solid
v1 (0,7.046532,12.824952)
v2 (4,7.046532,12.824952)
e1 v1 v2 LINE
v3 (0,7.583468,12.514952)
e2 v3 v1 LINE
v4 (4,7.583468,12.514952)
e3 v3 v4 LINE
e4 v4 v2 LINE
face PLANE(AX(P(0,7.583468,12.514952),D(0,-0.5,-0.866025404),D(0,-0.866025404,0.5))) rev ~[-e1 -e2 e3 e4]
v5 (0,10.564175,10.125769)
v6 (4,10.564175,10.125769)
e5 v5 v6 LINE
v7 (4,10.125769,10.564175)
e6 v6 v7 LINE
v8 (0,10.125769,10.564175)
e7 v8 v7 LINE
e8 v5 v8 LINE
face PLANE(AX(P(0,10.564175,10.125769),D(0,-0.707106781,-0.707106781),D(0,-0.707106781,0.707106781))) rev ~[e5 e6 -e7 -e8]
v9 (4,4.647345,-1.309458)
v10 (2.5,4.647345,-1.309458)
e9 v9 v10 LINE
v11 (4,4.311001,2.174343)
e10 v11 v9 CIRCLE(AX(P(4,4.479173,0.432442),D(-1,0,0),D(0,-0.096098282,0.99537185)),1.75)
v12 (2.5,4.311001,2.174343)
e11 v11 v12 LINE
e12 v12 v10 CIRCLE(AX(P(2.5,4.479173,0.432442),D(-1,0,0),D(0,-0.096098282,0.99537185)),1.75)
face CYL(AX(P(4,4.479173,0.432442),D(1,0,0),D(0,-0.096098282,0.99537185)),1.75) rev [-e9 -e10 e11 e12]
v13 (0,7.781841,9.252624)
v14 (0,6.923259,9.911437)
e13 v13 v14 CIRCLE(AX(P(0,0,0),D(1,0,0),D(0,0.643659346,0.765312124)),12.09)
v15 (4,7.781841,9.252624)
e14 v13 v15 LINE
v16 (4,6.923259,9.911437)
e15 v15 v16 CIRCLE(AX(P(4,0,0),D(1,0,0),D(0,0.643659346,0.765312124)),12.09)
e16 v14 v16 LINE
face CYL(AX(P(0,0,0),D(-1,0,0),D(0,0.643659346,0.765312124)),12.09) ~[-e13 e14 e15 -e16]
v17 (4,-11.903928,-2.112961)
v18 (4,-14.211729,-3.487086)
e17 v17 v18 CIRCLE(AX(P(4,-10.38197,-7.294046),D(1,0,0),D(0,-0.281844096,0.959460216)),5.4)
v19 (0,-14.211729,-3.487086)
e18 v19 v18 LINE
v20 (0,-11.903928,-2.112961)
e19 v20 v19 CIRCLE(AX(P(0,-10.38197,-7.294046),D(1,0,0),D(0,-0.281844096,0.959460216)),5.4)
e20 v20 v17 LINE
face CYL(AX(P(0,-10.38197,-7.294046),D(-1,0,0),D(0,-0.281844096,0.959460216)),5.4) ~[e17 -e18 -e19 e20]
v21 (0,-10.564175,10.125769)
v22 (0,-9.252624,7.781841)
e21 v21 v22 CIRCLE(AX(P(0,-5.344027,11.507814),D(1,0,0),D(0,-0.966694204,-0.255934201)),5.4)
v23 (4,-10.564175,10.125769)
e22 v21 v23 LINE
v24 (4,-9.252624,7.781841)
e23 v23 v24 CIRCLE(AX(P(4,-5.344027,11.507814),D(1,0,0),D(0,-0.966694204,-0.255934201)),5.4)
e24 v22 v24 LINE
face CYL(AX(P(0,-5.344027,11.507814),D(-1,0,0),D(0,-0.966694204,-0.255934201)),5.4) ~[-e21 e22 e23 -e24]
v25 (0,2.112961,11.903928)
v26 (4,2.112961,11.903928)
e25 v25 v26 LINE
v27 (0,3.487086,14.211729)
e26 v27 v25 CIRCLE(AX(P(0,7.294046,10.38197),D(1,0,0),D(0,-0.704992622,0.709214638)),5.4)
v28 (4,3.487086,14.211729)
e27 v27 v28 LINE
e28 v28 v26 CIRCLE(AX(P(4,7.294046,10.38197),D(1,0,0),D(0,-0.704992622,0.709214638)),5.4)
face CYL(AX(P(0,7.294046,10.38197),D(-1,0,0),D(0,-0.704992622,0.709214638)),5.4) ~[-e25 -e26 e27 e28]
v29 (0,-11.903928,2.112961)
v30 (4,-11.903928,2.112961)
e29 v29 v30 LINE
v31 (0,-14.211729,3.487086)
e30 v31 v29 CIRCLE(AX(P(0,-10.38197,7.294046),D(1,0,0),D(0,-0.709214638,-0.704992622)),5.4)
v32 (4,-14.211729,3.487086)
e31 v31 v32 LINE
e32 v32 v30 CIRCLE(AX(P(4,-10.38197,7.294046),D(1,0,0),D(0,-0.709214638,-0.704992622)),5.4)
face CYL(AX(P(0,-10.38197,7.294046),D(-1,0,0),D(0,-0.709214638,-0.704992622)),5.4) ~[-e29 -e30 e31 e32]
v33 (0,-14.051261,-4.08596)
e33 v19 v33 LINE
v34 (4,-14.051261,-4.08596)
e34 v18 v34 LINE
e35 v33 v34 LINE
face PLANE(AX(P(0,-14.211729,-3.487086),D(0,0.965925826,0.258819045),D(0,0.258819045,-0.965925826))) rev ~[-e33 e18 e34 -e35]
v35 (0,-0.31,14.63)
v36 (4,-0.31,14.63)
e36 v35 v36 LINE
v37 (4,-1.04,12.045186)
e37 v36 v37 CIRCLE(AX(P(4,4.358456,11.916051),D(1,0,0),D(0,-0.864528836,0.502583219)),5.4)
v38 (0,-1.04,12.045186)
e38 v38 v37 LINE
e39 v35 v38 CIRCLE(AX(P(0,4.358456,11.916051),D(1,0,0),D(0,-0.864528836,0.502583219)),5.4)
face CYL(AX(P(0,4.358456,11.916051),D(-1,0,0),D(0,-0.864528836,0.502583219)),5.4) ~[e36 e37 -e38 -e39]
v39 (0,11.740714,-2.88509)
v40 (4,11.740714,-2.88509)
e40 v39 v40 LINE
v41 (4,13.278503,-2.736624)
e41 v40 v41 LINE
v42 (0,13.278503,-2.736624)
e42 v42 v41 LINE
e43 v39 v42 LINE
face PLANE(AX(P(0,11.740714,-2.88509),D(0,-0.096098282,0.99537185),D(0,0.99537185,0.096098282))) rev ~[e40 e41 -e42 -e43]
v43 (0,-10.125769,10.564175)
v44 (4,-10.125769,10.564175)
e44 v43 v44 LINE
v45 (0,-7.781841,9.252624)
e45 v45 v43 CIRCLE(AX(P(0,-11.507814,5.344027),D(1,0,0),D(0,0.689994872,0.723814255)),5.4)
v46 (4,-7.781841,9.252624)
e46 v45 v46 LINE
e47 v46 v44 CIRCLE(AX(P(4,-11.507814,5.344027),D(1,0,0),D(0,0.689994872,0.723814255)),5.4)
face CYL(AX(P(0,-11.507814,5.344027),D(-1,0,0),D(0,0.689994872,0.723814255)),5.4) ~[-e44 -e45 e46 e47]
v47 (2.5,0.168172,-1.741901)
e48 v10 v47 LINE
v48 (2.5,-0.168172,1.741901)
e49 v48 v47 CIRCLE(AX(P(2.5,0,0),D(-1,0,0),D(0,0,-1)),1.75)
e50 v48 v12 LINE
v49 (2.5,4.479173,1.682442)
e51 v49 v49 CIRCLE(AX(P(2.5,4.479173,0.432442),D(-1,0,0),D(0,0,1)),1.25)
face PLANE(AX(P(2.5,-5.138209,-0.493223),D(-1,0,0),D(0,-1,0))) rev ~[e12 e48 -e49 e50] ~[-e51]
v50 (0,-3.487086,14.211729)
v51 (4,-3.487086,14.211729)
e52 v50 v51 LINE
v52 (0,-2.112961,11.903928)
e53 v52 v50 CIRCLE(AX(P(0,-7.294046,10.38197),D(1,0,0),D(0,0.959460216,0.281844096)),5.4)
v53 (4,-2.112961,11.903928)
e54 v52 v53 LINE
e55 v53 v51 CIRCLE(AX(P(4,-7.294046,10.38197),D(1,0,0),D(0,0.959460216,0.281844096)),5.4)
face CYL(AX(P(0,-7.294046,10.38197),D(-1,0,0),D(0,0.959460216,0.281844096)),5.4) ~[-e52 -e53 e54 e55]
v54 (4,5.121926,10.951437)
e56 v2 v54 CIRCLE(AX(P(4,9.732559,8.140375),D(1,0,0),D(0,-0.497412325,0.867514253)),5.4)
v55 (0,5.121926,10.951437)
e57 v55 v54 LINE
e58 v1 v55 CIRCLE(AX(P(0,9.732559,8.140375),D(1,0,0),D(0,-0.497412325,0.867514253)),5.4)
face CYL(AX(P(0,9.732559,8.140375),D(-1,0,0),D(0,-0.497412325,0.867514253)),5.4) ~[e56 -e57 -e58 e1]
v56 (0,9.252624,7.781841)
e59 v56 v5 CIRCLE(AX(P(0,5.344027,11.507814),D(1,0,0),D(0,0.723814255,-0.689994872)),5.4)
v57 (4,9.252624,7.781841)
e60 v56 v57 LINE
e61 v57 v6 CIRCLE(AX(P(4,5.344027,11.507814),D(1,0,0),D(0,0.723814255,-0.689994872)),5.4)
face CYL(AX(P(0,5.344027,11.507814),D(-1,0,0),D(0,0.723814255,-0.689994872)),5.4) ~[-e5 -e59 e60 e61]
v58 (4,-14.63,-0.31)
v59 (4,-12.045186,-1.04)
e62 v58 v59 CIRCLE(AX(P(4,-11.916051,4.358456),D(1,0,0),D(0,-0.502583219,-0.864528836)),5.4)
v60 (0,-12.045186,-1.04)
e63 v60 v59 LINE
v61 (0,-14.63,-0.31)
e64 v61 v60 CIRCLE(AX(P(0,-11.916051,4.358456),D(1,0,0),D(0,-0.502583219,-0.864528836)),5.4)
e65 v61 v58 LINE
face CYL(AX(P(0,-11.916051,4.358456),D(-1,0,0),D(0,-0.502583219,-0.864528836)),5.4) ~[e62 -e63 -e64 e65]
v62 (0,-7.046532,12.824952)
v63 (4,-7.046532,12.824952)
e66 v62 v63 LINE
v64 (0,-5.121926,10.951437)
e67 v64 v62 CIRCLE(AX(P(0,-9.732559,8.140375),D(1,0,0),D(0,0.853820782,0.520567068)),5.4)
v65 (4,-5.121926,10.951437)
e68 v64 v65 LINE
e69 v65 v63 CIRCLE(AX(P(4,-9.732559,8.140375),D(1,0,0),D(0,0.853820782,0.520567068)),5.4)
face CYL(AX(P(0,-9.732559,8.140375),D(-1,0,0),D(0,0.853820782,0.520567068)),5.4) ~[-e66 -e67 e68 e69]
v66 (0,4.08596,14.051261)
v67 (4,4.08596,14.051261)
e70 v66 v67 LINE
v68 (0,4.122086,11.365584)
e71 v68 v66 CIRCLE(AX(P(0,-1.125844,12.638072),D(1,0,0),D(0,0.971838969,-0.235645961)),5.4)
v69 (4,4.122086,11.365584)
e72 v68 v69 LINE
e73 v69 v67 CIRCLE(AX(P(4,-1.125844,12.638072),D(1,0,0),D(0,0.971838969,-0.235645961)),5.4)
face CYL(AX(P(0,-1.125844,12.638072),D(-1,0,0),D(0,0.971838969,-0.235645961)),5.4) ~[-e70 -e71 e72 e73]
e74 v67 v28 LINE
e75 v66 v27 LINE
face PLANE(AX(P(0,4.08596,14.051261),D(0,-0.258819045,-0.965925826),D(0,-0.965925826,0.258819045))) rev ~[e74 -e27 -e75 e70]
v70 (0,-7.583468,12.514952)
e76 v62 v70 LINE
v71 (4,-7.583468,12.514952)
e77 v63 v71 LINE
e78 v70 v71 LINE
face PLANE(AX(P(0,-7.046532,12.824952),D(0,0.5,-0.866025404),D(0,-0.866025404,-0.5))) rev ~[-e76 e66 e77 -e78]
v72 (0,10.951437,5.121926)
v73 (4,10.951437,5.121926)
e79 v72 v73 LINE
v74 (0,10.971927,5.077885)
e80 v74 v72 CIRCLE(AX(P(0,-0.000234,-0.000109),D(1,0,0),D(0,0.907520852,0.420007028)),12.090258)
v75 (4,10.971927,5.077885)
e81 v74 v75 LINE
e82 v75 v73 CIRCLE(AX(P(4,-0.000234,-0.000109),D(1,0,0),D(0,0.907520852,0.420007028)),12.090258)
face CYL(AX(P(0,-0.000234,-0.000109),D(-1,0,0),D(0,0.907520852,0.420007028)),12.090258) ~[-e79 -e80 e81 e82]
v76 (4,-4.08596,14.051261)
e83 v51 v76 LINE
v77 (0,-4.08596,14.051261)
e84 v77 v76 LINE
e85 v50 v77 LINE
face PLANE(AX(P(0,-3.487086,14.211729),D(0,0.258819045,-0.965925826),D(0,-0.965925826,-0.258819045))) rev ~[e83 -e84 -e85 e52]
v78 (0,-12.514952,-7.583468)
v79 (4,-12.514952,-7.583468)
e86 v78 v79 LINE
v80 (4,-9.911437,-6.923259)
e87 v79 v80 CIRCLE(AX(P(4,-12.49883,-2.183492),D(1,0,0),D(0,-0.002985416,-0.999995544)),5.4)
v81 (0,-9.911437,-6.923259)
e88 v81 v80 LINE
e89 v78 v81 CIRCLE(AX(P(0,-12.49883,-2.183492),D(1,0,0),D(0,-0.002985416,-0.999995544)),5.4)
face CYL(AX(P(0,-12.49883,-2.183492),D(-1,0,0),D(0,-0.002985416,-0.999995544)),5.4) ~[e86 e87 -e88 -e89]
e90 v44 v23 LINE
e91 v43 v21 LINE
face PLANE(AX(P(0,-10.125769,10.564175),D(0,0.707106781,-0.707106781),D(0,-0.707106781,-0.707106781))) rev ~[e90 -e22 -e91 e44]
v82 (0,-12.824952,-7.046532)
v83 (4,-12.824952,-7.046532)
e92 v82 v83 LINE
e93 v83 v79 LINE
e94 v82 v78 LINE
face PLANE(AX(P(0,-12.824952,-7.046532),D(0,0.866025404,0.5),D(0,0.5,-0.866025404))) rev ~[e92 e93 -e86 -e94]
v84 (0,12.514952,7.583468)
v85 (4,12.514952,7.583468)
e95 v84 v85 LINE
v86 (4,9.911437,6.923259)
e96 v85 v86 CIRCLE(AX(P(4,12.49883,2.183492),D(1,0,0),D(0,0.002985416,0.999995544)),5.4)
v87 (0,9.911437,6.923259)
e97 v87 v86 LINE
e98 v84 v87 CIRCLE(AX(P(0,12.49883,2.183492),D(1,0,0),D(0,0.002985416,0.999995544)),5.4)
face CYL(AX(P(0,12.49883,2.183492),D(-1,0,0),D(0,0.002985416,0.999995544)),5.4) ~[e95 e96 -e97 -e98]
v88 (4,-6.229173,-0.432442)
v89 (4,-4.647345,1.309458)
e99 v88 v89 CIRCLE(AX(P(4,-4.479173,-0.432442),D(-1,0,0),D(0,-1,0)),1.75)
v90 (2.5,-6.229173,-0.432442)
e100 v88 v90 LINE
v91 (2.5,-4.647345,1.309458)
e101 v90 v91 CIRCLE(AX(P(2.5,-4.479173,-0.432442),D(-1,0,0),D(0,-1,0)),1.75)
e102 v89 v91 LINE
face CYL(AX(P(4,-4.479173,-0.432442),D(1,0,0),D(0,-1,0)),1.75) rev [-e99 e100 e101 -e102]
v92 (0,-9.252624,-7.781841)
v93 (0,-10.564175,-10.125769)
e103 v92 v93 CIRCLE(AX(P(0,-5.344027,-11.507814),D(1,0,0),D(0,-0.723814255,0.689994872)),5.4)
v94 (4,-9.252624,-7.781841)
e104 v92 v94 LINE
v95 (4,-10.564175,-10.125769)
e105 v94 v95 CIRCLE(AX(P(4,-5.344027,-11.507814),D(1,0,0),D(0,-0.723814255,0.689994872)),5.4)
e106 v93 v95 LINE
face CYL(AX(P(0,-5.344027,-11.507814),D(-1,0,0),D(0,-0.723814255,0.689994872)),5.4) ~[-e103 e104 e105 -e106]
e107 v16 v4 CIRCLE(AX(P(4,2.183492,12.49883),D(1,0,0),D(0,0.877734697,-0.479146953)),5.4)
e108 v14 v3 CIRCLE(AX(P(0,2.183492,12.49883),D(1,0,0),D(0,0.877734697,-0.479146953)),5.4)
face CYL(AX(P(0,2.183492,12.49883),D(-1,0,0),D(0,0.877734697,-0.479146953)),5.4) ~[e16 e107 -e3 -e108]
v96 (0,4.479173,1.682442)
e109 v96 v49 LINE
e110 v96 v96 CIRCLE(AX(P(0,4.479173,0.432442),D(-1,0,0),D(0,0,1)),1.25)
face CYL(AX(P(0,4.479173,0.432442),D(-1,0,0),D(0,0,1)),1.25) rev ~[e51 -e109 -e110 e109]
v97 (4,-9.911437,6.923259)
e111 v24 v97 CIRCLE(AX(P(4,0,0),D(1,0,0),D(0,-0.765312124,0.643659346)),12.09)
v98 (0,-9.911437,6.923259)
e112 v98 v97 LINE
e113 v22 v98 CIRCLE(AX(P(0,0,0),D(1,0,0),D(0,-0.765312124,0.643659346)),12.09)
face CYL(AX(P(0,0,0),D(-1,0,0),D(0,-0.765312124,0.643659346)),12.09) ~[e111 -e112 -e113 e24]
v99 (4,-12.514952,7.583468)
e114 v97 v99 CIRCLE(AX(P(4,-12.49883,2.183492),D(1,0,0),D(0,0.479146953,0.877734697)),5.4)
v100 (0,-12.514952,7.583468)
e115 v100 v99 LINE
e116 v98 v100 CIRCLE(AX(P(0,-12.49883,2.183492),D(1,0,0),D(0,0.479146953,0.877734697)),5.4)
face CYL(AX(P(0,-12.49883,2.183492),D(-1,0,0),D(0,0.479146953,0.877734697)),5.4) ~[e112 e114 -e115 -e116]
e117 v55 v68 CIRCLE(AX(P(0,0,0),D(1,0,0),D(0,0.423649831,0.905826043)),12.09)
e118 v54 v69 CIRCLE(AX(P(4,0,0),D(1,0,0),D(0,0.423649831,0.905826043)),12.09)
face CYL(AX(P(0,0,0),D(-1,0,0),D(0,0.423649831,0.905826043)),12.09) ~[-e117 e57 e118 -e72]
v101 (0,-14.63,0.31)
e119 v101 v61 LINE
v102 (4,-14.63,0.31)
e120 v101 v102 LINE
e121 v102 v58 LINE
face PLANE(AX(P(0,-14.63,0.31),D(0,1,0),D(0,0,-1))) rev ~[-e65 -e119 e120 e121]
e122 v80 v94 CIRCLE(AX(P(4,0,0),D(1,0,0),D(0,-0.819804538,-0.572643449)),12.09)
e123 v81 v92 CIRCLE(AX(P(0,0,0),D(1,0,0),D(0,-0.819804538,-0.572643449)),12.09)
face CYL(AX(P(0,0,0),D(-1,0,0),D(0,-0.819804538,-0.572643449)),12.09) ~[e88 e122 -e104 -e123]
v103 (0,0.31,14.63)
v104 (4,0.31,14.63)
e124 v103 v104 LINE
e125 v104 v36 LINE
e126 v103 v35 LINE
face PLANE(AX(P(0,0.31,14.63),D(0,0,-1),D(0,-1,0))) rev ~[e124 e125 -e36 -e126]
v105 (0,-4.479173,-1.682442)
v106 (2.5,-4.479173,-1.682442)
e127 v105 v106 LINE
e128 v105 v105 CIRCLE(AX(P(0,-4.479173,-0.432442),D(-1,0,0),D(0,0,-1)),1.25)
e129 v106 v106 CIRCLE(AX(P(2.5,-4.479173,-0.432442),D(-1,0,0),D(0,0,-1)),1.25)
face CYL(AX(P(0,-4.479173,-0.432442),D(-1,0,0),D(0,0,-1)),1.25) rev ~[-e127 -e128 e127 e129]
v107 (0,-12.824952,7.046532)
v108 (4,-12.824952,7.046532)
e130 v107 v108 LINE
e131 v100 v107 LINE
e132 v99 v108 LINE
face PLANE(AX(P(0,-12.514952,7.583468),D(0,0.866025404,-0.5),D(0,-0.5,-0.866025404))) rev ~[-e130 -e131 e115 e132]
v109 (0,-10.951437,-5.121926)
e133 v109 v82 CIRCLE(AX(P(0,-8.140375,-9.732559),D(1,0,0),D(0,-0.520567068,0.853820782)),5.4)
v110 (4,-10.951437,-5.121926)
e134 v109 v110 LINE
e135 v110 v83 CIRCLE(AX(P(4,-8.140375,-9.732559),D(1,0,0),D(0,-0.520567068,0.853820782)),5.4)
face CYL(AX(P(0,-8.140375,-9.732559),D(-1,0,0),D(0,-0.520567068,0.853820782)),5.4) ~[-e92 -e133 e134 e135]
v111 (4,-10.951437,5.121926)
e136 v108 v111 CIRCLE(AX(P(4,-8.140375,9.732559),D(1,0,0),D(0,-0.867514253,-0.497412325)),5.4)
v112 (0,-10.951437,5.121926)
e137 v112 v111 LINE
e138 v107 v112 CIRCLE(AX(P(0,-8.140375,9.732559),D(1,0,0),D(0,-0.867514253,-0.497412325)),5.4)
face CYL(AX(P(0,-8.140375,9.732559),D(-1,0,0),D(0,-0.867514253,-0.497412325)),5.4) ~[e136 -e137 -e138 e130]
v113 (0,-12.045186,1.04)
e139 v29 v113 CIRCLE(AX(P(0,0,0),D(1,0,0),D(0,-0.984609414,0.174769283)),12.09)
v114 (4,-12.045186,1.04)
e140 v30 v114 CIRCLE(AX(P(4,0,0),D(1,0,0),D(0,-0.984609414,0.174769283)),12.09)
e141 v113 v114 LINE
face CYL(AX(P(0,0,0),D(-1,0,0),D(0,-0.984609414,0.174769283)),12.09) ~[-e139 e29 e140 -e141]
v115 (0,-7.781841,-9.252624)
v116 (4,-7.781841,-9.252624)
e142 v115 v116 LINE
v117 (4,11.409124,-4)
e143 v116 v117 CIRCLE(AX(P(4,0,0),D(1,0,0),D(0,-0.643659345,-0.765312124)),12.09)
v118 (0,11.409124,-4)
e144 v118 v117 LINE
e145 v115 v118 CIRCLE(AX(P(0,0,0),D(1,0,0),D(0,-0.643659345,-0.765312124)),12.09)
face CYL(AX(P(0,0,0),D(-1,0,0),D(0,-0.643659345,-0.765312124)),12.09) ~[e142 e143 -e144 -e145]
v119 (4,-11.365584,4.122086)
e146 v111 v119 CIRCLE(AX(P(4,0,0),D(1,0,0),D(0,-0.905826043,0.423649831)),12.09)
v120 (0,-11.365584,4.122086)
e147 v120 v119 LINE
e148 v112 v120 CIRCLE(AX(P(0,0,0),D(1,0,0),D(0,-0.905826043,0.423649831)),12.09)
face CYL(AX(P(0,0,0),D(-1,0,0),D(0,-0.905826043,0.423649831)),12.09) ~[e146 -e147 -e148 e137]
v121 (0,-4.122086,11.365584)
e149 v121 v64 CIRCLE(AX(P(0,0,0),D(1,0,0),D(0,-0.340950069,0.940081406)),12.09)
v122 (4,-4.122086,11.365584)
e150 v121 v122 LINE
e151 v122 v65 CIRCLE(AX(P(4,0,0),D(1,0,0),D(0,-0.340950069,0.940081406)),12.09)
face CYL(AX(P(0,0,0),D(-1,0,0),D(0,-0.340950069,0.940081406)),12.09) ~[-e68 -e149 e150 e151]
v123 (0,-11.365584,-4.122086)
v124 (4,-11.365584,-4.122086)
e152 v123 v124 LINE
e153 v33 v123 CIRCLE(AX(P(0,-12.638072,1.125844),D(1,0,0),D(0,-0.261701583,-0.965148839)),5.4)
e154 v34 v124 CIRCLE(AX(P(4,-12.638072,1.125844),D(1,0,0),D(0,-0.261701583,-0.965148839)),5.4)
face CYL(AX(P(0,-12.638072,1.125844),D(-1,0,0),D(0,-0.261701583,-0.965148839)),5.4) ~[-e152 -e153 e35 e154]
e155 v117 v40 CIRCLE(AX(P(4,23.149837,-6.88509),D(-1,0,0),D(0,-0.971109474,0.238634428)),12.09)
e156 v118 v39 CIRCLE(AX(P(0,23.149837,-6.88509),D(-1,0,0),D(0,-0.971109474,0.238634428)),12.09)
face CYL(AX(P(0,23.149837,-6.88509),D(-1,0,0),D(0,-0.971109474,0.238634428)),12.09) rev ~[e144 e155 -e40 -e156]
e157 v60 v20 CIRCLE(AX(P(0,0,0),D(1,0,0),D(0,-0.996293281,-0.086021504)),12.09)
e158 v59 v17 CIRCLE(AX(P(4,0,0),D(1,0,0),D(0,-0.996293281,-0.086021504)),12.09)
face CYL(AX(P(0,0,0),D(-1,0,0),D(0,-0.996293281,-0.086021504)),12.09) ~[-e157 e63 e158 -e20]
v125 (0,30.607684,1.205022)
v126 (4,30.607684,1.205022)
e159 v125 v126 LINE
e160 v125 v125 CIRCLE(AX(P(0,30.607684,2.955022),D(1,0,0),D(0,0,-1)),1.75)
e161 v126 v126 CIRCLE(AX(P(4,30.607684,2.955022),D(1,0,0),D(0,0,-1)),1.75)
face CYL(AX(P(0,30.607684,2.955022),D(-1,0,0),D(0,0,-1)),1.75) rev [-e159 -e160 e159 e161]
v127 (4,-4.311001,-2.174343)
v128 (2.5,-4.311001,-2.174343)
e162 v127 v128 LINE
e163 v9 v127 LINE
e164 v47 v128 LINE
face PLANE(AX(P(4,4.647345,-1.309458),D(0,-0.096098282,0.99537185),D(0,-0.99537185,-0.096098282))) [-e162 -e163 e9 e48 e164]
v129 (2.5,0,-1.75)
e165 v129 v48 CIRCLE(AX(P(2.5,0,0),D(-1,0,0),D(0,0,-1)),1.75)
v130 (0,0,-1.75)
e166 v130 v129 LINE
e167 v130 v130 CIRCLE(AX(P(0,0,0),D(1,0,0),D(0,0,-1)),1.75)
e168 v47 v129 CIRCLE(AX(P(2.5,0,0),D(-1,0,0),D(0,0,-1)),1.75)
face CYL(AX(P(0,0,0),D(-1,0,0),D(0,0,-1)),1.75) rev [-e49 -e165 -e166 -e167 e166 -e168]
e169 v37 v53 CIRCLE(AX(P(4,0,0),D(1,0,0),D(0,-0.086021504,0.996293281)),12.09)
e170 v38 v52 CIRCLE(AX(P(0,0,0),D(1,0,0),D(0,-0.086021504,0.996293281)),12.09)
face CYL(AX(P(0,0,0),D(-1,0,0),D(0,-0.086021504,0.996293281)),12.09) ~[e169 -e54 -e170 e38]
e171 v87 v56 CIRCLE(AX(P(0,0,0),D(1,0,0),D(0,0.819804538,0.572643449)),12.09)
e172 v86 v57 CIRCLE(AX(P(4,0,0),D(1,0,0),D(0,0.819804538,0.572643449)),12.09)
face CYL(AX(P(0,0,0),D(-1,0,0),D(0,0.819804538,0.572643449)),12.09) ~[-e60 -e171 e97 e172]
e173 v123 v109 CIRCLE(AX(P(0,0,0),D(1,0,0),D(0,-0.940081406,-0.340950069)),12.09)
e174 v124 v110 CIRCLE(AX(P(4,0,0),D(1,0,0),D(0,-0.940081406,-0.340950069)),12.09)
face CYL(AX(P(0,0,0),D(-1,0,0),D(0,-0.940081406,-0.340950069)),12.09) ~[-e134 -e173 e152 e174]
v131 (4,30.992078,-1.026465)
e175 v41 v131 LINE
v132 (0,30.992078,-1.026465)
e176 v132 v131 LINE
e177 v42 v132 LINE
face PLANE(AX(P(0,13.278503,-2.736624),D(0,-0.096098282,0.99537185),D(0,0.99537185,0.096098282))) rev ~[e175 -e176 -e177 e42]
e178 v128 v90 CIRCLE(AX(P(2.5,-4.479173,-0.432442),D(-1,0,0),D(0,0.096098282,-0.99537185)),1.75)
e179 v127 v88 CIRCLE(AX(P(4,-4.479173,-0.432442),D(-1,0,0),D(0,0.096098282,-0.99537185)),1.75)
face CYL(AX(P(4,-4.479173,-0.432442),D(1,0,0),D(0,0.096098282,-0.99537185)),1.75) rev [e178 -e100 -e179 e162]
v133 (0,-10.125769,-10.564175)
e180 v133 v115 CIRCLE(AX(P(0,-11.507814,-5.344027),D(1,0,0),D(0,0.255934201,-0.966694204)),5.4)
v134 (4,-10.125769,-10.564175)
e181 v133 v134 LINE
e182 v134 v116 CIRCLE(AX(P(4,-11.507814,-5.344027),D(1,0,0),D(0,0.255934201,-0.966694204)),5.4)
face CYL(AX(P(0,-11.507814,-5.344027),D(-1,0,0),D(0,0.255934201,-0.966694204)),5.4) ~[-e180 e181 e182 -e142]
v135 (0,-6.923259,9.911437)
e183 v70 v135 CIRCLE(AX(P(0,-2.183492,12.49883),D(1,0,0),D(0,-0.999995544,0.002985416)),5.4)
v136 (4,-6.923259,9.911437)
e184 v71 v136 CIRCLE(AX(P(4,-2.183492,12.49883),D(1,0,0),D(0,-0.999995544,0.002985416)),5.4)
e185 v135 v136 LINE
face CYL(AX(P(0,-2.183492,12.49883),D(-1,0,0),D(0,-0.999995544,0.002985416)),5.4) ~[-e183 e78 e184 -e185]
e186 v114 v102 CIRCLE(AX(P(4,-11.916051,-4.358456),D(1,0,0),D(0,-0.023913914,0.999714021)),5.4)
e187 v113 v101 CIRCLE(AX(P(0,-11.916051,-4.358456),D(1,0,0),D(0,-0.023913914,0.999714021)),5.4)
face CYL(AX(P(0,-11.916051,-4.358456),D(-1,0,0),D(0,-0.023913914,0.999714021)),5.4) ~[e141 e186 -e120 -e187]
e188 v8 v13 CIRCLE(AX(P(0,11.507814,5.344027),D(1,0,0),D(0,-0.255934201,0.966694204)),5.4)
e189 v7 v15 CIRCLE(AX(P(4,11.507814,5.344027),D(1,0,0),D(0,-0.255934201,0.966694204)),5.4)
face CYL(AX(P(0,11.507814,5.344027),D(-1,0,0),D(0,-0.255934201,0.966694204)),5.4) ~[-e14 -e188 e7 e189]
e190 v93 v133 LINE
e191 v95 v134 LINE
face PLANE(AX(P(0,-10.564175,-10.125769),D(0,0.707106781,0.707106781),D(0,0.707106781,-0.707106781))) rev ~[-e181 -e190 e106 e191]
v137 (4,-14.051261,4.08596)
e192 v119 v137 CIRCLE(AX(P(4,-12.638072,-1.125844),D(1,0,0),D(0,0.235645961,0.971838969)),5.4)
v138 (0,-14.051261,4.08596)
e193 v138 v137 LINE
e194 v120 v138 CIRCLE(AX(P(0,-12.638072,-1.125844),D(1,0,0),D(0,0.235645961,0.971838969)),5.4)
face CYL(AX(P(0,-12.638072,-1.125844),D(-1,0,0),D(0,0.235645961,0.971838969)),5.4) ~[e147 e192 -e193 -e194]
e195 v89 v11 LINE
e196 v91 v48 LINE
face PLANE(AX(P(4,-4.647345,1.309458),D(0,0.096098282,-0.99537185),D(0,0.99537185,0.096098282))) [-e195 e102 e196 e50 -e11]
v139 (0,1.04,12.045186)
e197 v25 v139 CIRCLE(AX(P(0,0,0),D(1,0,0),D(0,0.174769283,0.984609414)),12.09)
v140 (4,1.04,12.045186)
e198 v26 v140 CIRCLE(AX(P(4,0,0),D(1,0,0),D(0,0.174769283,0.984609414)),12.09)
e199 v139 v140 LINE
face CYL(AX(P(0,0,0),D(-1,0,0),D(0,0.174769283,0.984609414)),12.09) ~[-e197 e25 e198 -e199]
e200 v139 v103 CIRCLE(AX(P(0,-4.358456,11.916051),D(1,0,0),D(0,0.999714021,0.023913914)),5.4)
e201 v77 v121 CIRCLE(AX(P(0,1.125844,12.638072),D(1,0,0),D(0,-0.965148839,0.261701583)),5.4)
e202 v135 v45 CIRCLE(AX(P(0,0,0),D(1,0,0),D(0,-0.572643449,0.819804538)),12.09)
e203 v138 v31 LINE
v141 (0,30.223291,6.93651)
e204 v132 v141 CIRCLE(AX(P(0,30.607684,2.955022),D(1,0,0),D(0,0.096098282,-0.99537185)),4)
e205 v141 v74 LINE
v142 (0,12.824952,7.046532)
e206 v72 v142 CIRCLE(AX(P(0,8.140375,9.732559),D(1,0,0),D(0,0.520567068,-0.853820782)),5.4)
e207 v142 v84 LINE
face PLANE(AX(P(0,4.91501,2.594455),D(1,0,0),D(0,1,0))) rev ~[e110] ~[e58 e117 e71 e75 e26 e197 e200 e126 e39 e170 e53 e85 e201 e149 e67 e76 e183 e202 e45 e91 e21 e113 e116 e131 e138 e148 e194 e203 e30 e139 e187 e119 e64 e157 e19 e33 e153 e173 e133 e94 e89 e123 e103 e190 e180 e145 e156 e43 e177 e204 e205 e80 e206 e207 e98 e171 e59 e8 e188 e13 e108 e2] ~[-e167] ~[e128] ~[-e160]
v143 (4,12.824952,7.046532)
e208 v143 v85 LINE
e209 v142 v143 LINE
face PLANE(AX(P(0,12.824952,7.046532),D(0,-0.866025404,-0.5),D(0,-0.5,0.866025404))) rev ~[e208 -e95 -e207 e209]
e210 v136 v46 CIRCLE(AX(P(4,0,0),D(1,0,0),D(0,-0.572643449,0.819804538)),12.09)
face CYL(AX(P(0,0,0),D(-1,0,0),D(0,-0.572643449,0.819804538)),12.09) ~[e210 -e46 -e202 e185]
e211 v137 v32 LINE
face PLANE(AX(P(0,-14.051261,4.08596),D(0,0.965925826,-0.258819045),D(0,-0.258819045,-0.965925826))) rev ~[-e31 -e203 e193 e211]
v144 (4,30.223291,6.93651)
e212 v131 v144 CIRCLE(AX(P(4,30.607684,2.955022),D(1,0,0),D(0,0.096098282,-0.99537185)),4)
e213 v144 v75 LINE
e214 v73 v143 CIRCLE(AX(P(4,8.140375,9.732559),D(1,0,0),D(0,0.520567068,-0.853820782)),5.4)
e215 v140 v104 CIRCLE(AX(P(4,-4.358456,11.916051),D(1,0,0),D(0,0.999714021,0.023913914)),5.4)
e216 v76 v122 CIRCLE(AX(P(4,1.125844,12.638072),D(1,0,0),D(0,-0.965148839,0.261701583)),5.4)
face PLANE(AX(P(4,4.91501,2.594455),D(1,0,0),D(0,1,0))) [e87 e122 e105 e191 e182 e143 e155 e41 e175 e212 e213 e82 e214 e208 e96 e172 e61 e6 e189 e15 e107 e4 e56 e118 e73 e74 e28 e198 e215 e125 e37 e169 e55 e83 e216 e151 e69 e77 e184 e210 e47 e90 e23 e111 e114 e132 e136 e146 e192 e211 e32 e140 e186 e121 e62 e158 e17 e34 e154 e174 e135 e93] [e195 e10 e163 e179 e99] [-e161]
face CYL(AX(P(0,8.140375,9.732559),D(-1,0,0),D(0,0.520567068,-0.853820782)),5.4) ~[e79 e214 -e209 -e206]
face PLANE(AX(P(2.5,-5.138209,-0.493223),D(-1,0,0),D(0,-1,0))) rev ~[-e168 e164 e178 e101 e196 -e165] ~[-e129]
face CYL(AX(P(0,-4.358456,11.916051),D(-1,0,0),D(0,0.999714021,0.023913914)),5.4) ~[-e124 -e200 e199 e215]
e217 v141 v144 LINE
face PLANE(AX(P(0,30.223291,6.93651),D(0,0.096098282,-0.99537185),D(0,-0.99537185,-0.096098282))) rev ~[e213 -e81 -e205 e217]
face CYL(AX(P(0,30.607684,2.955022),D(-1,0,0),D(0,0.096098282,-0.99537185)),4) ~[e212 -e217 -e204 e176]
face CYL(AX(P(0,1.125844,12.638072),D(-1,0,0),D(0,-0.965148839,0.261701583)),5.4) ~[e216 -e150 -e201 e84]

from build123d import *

# Parameters (mm, degrees)
SKETCH1_R           = 1.75
BOSS_EXTRUDE1_DEPTH = 4
SKETCH3_R           = 1.25
CUT_EXTRUDE1_DEPTH  = 38.785297658
CUT_EXTRUDE2_START  = -4
CUT_EXTRUDE2_DEPTH  = 1.5


with BuildPart() as part:
    # Sketch1 → Boss-Extrude1 (new body)
    with BuildSketch(Plane.YZ):
        with BuildLine():
            Line((0.31, 14.63), (-0.31, 14.63))
            ThreePointArc((-0.31, 14.63), (-0.838273314, 13.383704325), (-1.04, 12.04518576))
            ThreePointArc((-1.04, 12.04518576), (-1.578061664, 11.986568374), (-2.112960617, 11.903927815))
            ThreePointArc((-2.112960617, 11.903927815), (-2.65424773, 13.144626757), (-3.487085624, 14.211728743))
            Line((-3.487085624, 14.211728743), (-4.085959636, 14.051260935))
            ThreePointArc((-4.085959636, 14.051260935), (-4.273667417, 12.71070456), (-4.122086336, 11.365584201))
            ThreePointArc((-4.122086336, 11.365584201), (-4.626642697, 11.169703548), (-5.12192646, 10.951436862))
            ThreePointArc((-5.12192646, 10.951436862), (-5.965886177, 12.009764599), (-7.046532125, 12.824951657))
            Line((-7.046532125, 12.824951657), (-7.583467875, 12.514951657))
            ThreePointArc((-7.583467875, 12.514951657), (-7.417818147, 11.171491285), (-6.9232593, 9.911436862))
            ThreePointArc((-6.9232593, 9.911436862), (-7.359925677, 9.591641884), (-7.781841479, 9.252623584))
            ThreePointArc((-7.781841479, 9.252623584), (-8.870959341, 10.05645683), (-10.125769107, 10.564175311))
            Line((-10.125769107, 10.564175311), (-10.564175311, 10.125769107))
            ThreePointArc((-10.564175311, 10.125769107), (-10.05645683, 8.870959341), (-9.252623584, 7.781841479))
            ThreePointArc((-9.252623584, 7.781841479), (-9.591641884, 7.359925677), (-9.911436862, 6.9232593))
            ThreePointArc((-9.911436862, 6.9232593), (-11.171491285, 7.417818147), (-12.514951657, 7.583467875))
            Line((-12.514951657, 7.583467875), (-12.824951657, 7.046532125))
            ThreePointArc((-12.824951657, 7.046532125), (-12.009764599, 5.965886177), (-10.951436862, 5.12192646))
            ThreePointArc((-10.951436862, 5.12192646), (-11.169703548, 4.626642697), (-11.365584201, 4.122086336))
            ThreePointArc((-11.365584201, 4.122086336), (-12.71070456, 4.273667417), (-14.051260935, 4.085959636))
            Line((-14.051260935, 4.085959636), (-14.211728743, 3.487085624))
            ThreePointArc((-14.211728743, 3.487085624), (-13.144626757, 2.65424773), (-11.903927815, 2.112960617))
            ThreePointArc((-11.903927815, 2.112960617), (-11.986568374, 1.578061664), (-12.04518576, 1.04))
            ThreePointArc((-12.04518576, 1.04), (-13.383704325, 0.838273314), (-14.63, 0.31))
            Line((-14.63, 0.31), (-14.63, -0.31))
            ThreePointArc((-14.63, -0.31), (-13.383704325, -0.838273314), (-12.04518576, -1.04))
            ThreePointArc((-12.04518576, -1.04), (-11.986568374, -1.578061664), (-11.903927815, -2.112960617))
            ThreePointArc((-11.903927815, -2.112960617), (-13.144626757, -2.65424773), (-14.211728743, -3.487085624))
            Line((-14.211728743, -3.487085624), (-14.051260935, -4.085959636))
            ThreePointArc((-14.051260935, -4.085959636), (-12.71070456, -4.273667417), (-11.365584201, -4.122086336))
            ThreePointArc((-11.365584201, -4.122086336), (-11.169703548, -4.626642697), (-10.951436862, -5.12192646))
            ThreePointArc((-10.951436862, -5.12192646), (-12.009764599, -5.965886177), (-12.824951657, -7.046532125))
            Line((-12.824951657, -7.046532125), (-12.514951657, -7.583467875))
            ThreePointArc((-12.514951657, -7.583467875), (-11.171491285, -7.417818147), (-9.911436862, -6.9232593))
            ThreePointArc((-9.911436862, -6.9232593), (-9.591641884, -7.359925677), (-9.252623584, -7.781841479))
            ThreePointArc((-9.252623584, -7.781841479), (-10.05645683, -8.870959341), (-10.564175311, -10.125769107))
            Line((-10.564175311, -10.125769107), (-10.125769107, -10.564175311))
            ThreePointArc((-10.125769107, -10.564175311), (-8.870959341, -10.05645683), (-7.781841479, -9.252623584))
            ThreePointArc((-7.781841479, -9.252623584), (3.191677838, -11.661101688), (11.409123542, -4))
            ThreePointArc((11.409123542, -4), (11.561502637, -3.438555035), (11.740713538, -2.885090229))
            Line((11.740713538, -2.885090229), (13.278503475, -2.736624135))
            Line((13.278503475, -2.736624135), (30.992077522, -1.026465229))
            ThreePointArc((30.992077522, -1.026465229), (34.589171795, 3.3394153), (30.223291266, 6.936509573))
            Line((30.223291266, 6.936509573), (10.971927281, 5.077884573))
            ThreePointArc((10.971927281, 5.077884573), (10.96170419, 5.099915807), (10.951436862, 5.12192646))
            ThreePointArc((10.951436862, 5.12192646), (12.009764599, 5.965886177), (12.824951657, 7.046532125))
            Line((12.824951657, 7.046532125), (12.514951657, 7.583467875))
            ThreePointArc((12.514951657, 7.583467875), (11.171491285, 7.417818147), (9.911436862, 6.9232593))
            ThreePointArc((9.911436862, 6.9232593), (9.591641884, 7.359925677), (9.252623584, 7.781841479))
            ThreePointArc((9.252623584, 7.781841479), (10.05645683, 8.870959341), (10.564175311, 10.125769107))
            Line((10.564175311, 10.125769107), (10.125769107, 10.564175311))
            ThreePointArc((10.125769107, 10.564175311), (8.870959341, 10.05645683), (7.781841479, 9.252623584))
            ThreePointArc((7.781841479, 9.252623584), (7.359925677, 9.591641884), (6.9232593, 9.911436862))
            ThreePointArc((6.9232593, 9.911436862), (7.417818147, 11.171491285), (7.583467875, 12.514951657))
            Line((7.583467875, 12.514951657), (7.046532125, 12.824951657))
            ThreePointArc((7.046532125, 12.824951657), (5.965886177, 12.009764599), (5.12192646, 10.951436862))
            ThreePointArc((5.12192646, 10.951436862), (4.626642697, 11.169703548), (4.122086336, 11.365584201))
            ThreePointArc((4.122086336, 11.365584201), (4.273667417, 12.71070456), (4.085959636, 14.051260935))
            Line((4.085959636, 14.051260935), (3.487085624, 14.211728743))
            ThreePointArc((3.487085624, 14.211728743), (2.65424773, 13.144626757), (2.112960617, 11.903927815))
            ThreePointArc((2.112960617, 11.903927815), (1.578061664, 11.986568374), (1.04, 12.04518576))
            ThreePointArc((1.04, 12.04518576), (0.838273314, 13.383704325), (0.31, 14.63))
        make_face()
        with Locations(Location((0, 0, 0), (0, 0, 270))):
            Circle(SKETCH1_R, mode=Mode.SUBTRACT)
        with Locations(Location((30.607684394, 2.955022172, 0), (0, 0, 270))):
            Circle(SKETCH1_R, mode=Mode.SUBTRACT)
    extrude(amount=BOSS_EXTRUDE1_DEPTH)

    # Sketch3 → Cut-Extrude1 (cut, through all)
    with BuildSketch(Plane(origin=(0, 0, 0), x_dir=(0, -1, 0), z_dir=(-1, 0, 0))):
        with Locations(Location((-4.479173326, 0.432442269, 0), (0, 0, 90))):
            Circle(SKETCH3_R)
        with Locations(Location((4.479173326, -0.432442269, 0), (0, 0, 270))):
            Circle(SKETCH3_R)
    extrude(amount=-CUT_EXTRUDE1_DEPTH, mode=Mode.SUBTRACT)

    # Sketch4 → Cut-Extrude2 (cut)
    with BuildSketch(Plane(origin=(0, 0, 0), x_dir=(0, -1, 0), z_dir=(-1, 0, 0)).offset(CUT_EXTRUDE2_START)):
        with BuildLine():
            ThreePointArc((6.229173326, -0.432442269), (5.774704296, 0.744035315), (4.647345319, 1.309458469))
            Line((4.647345319, 1.309458469), (4.311001332, -2.174343007))
            ThreePointArc((4.311001332, -2.174343007), (5.65565091, -1.727973239), (6.229173326, -0.432442269))
        make_face()
        with BuildLine():
            Line((4.311001332, -2.174343007), (4.647345319, 1.309458469))
            ThreePointArc((4.647345319, 1.309458469), (2.737272588, -0.264270276), (4.311001332, -2.174343007))
        make_face()
        with BuildLine():
            ThreePointArc((-2.729173326, 0.432442269), (-3.183642356, 1.608919853), (-4.311001332, 2.174343007))
            Line((-4.311001332, 2.174343007), (-4.647345319, -1.309458469))
            ThreePointArc((-4.647345319, -1.309458469), (-3.302695742, -0.863088701), (-2.729173326, 0.432442269))
        make_face()
        with BuildLine():
            Line((-4.647345319, -1.309458469), (-4.311001332, 2.174343007))
            ThreePointArc((-4.311001332, 2.174343007), (-6.221074064, 0.600614263), (-4.647345319, -1.309458469))
        make_face()
        with BuildLine():
            ThreePointArc((4.311001332, -2.174343007), (2.737272588, -0.264270276), (4.647345319, 1.309458469))
            Line((4.647345319, 1.309458469), (-4.311001332, 2.174343007))
            ThreePointArc((-4.311001332, 2.174343007), (-3.183642356, 1.608919853), (-2.729173326, 0.432442269))
            ThreePointArc((-2.729173326, 0.432442269), (-3.302695742, -0.863088701), (-4.647345319, -1.309458469))
            Line((-4.647345319, -1.309458469), (4.311001332, -2.174343007))
        make_face()
    extrude(amount=CUT_EXTRUDE2_DEPTH, mode=Mode.SUBTRACT)


solid = part.part
